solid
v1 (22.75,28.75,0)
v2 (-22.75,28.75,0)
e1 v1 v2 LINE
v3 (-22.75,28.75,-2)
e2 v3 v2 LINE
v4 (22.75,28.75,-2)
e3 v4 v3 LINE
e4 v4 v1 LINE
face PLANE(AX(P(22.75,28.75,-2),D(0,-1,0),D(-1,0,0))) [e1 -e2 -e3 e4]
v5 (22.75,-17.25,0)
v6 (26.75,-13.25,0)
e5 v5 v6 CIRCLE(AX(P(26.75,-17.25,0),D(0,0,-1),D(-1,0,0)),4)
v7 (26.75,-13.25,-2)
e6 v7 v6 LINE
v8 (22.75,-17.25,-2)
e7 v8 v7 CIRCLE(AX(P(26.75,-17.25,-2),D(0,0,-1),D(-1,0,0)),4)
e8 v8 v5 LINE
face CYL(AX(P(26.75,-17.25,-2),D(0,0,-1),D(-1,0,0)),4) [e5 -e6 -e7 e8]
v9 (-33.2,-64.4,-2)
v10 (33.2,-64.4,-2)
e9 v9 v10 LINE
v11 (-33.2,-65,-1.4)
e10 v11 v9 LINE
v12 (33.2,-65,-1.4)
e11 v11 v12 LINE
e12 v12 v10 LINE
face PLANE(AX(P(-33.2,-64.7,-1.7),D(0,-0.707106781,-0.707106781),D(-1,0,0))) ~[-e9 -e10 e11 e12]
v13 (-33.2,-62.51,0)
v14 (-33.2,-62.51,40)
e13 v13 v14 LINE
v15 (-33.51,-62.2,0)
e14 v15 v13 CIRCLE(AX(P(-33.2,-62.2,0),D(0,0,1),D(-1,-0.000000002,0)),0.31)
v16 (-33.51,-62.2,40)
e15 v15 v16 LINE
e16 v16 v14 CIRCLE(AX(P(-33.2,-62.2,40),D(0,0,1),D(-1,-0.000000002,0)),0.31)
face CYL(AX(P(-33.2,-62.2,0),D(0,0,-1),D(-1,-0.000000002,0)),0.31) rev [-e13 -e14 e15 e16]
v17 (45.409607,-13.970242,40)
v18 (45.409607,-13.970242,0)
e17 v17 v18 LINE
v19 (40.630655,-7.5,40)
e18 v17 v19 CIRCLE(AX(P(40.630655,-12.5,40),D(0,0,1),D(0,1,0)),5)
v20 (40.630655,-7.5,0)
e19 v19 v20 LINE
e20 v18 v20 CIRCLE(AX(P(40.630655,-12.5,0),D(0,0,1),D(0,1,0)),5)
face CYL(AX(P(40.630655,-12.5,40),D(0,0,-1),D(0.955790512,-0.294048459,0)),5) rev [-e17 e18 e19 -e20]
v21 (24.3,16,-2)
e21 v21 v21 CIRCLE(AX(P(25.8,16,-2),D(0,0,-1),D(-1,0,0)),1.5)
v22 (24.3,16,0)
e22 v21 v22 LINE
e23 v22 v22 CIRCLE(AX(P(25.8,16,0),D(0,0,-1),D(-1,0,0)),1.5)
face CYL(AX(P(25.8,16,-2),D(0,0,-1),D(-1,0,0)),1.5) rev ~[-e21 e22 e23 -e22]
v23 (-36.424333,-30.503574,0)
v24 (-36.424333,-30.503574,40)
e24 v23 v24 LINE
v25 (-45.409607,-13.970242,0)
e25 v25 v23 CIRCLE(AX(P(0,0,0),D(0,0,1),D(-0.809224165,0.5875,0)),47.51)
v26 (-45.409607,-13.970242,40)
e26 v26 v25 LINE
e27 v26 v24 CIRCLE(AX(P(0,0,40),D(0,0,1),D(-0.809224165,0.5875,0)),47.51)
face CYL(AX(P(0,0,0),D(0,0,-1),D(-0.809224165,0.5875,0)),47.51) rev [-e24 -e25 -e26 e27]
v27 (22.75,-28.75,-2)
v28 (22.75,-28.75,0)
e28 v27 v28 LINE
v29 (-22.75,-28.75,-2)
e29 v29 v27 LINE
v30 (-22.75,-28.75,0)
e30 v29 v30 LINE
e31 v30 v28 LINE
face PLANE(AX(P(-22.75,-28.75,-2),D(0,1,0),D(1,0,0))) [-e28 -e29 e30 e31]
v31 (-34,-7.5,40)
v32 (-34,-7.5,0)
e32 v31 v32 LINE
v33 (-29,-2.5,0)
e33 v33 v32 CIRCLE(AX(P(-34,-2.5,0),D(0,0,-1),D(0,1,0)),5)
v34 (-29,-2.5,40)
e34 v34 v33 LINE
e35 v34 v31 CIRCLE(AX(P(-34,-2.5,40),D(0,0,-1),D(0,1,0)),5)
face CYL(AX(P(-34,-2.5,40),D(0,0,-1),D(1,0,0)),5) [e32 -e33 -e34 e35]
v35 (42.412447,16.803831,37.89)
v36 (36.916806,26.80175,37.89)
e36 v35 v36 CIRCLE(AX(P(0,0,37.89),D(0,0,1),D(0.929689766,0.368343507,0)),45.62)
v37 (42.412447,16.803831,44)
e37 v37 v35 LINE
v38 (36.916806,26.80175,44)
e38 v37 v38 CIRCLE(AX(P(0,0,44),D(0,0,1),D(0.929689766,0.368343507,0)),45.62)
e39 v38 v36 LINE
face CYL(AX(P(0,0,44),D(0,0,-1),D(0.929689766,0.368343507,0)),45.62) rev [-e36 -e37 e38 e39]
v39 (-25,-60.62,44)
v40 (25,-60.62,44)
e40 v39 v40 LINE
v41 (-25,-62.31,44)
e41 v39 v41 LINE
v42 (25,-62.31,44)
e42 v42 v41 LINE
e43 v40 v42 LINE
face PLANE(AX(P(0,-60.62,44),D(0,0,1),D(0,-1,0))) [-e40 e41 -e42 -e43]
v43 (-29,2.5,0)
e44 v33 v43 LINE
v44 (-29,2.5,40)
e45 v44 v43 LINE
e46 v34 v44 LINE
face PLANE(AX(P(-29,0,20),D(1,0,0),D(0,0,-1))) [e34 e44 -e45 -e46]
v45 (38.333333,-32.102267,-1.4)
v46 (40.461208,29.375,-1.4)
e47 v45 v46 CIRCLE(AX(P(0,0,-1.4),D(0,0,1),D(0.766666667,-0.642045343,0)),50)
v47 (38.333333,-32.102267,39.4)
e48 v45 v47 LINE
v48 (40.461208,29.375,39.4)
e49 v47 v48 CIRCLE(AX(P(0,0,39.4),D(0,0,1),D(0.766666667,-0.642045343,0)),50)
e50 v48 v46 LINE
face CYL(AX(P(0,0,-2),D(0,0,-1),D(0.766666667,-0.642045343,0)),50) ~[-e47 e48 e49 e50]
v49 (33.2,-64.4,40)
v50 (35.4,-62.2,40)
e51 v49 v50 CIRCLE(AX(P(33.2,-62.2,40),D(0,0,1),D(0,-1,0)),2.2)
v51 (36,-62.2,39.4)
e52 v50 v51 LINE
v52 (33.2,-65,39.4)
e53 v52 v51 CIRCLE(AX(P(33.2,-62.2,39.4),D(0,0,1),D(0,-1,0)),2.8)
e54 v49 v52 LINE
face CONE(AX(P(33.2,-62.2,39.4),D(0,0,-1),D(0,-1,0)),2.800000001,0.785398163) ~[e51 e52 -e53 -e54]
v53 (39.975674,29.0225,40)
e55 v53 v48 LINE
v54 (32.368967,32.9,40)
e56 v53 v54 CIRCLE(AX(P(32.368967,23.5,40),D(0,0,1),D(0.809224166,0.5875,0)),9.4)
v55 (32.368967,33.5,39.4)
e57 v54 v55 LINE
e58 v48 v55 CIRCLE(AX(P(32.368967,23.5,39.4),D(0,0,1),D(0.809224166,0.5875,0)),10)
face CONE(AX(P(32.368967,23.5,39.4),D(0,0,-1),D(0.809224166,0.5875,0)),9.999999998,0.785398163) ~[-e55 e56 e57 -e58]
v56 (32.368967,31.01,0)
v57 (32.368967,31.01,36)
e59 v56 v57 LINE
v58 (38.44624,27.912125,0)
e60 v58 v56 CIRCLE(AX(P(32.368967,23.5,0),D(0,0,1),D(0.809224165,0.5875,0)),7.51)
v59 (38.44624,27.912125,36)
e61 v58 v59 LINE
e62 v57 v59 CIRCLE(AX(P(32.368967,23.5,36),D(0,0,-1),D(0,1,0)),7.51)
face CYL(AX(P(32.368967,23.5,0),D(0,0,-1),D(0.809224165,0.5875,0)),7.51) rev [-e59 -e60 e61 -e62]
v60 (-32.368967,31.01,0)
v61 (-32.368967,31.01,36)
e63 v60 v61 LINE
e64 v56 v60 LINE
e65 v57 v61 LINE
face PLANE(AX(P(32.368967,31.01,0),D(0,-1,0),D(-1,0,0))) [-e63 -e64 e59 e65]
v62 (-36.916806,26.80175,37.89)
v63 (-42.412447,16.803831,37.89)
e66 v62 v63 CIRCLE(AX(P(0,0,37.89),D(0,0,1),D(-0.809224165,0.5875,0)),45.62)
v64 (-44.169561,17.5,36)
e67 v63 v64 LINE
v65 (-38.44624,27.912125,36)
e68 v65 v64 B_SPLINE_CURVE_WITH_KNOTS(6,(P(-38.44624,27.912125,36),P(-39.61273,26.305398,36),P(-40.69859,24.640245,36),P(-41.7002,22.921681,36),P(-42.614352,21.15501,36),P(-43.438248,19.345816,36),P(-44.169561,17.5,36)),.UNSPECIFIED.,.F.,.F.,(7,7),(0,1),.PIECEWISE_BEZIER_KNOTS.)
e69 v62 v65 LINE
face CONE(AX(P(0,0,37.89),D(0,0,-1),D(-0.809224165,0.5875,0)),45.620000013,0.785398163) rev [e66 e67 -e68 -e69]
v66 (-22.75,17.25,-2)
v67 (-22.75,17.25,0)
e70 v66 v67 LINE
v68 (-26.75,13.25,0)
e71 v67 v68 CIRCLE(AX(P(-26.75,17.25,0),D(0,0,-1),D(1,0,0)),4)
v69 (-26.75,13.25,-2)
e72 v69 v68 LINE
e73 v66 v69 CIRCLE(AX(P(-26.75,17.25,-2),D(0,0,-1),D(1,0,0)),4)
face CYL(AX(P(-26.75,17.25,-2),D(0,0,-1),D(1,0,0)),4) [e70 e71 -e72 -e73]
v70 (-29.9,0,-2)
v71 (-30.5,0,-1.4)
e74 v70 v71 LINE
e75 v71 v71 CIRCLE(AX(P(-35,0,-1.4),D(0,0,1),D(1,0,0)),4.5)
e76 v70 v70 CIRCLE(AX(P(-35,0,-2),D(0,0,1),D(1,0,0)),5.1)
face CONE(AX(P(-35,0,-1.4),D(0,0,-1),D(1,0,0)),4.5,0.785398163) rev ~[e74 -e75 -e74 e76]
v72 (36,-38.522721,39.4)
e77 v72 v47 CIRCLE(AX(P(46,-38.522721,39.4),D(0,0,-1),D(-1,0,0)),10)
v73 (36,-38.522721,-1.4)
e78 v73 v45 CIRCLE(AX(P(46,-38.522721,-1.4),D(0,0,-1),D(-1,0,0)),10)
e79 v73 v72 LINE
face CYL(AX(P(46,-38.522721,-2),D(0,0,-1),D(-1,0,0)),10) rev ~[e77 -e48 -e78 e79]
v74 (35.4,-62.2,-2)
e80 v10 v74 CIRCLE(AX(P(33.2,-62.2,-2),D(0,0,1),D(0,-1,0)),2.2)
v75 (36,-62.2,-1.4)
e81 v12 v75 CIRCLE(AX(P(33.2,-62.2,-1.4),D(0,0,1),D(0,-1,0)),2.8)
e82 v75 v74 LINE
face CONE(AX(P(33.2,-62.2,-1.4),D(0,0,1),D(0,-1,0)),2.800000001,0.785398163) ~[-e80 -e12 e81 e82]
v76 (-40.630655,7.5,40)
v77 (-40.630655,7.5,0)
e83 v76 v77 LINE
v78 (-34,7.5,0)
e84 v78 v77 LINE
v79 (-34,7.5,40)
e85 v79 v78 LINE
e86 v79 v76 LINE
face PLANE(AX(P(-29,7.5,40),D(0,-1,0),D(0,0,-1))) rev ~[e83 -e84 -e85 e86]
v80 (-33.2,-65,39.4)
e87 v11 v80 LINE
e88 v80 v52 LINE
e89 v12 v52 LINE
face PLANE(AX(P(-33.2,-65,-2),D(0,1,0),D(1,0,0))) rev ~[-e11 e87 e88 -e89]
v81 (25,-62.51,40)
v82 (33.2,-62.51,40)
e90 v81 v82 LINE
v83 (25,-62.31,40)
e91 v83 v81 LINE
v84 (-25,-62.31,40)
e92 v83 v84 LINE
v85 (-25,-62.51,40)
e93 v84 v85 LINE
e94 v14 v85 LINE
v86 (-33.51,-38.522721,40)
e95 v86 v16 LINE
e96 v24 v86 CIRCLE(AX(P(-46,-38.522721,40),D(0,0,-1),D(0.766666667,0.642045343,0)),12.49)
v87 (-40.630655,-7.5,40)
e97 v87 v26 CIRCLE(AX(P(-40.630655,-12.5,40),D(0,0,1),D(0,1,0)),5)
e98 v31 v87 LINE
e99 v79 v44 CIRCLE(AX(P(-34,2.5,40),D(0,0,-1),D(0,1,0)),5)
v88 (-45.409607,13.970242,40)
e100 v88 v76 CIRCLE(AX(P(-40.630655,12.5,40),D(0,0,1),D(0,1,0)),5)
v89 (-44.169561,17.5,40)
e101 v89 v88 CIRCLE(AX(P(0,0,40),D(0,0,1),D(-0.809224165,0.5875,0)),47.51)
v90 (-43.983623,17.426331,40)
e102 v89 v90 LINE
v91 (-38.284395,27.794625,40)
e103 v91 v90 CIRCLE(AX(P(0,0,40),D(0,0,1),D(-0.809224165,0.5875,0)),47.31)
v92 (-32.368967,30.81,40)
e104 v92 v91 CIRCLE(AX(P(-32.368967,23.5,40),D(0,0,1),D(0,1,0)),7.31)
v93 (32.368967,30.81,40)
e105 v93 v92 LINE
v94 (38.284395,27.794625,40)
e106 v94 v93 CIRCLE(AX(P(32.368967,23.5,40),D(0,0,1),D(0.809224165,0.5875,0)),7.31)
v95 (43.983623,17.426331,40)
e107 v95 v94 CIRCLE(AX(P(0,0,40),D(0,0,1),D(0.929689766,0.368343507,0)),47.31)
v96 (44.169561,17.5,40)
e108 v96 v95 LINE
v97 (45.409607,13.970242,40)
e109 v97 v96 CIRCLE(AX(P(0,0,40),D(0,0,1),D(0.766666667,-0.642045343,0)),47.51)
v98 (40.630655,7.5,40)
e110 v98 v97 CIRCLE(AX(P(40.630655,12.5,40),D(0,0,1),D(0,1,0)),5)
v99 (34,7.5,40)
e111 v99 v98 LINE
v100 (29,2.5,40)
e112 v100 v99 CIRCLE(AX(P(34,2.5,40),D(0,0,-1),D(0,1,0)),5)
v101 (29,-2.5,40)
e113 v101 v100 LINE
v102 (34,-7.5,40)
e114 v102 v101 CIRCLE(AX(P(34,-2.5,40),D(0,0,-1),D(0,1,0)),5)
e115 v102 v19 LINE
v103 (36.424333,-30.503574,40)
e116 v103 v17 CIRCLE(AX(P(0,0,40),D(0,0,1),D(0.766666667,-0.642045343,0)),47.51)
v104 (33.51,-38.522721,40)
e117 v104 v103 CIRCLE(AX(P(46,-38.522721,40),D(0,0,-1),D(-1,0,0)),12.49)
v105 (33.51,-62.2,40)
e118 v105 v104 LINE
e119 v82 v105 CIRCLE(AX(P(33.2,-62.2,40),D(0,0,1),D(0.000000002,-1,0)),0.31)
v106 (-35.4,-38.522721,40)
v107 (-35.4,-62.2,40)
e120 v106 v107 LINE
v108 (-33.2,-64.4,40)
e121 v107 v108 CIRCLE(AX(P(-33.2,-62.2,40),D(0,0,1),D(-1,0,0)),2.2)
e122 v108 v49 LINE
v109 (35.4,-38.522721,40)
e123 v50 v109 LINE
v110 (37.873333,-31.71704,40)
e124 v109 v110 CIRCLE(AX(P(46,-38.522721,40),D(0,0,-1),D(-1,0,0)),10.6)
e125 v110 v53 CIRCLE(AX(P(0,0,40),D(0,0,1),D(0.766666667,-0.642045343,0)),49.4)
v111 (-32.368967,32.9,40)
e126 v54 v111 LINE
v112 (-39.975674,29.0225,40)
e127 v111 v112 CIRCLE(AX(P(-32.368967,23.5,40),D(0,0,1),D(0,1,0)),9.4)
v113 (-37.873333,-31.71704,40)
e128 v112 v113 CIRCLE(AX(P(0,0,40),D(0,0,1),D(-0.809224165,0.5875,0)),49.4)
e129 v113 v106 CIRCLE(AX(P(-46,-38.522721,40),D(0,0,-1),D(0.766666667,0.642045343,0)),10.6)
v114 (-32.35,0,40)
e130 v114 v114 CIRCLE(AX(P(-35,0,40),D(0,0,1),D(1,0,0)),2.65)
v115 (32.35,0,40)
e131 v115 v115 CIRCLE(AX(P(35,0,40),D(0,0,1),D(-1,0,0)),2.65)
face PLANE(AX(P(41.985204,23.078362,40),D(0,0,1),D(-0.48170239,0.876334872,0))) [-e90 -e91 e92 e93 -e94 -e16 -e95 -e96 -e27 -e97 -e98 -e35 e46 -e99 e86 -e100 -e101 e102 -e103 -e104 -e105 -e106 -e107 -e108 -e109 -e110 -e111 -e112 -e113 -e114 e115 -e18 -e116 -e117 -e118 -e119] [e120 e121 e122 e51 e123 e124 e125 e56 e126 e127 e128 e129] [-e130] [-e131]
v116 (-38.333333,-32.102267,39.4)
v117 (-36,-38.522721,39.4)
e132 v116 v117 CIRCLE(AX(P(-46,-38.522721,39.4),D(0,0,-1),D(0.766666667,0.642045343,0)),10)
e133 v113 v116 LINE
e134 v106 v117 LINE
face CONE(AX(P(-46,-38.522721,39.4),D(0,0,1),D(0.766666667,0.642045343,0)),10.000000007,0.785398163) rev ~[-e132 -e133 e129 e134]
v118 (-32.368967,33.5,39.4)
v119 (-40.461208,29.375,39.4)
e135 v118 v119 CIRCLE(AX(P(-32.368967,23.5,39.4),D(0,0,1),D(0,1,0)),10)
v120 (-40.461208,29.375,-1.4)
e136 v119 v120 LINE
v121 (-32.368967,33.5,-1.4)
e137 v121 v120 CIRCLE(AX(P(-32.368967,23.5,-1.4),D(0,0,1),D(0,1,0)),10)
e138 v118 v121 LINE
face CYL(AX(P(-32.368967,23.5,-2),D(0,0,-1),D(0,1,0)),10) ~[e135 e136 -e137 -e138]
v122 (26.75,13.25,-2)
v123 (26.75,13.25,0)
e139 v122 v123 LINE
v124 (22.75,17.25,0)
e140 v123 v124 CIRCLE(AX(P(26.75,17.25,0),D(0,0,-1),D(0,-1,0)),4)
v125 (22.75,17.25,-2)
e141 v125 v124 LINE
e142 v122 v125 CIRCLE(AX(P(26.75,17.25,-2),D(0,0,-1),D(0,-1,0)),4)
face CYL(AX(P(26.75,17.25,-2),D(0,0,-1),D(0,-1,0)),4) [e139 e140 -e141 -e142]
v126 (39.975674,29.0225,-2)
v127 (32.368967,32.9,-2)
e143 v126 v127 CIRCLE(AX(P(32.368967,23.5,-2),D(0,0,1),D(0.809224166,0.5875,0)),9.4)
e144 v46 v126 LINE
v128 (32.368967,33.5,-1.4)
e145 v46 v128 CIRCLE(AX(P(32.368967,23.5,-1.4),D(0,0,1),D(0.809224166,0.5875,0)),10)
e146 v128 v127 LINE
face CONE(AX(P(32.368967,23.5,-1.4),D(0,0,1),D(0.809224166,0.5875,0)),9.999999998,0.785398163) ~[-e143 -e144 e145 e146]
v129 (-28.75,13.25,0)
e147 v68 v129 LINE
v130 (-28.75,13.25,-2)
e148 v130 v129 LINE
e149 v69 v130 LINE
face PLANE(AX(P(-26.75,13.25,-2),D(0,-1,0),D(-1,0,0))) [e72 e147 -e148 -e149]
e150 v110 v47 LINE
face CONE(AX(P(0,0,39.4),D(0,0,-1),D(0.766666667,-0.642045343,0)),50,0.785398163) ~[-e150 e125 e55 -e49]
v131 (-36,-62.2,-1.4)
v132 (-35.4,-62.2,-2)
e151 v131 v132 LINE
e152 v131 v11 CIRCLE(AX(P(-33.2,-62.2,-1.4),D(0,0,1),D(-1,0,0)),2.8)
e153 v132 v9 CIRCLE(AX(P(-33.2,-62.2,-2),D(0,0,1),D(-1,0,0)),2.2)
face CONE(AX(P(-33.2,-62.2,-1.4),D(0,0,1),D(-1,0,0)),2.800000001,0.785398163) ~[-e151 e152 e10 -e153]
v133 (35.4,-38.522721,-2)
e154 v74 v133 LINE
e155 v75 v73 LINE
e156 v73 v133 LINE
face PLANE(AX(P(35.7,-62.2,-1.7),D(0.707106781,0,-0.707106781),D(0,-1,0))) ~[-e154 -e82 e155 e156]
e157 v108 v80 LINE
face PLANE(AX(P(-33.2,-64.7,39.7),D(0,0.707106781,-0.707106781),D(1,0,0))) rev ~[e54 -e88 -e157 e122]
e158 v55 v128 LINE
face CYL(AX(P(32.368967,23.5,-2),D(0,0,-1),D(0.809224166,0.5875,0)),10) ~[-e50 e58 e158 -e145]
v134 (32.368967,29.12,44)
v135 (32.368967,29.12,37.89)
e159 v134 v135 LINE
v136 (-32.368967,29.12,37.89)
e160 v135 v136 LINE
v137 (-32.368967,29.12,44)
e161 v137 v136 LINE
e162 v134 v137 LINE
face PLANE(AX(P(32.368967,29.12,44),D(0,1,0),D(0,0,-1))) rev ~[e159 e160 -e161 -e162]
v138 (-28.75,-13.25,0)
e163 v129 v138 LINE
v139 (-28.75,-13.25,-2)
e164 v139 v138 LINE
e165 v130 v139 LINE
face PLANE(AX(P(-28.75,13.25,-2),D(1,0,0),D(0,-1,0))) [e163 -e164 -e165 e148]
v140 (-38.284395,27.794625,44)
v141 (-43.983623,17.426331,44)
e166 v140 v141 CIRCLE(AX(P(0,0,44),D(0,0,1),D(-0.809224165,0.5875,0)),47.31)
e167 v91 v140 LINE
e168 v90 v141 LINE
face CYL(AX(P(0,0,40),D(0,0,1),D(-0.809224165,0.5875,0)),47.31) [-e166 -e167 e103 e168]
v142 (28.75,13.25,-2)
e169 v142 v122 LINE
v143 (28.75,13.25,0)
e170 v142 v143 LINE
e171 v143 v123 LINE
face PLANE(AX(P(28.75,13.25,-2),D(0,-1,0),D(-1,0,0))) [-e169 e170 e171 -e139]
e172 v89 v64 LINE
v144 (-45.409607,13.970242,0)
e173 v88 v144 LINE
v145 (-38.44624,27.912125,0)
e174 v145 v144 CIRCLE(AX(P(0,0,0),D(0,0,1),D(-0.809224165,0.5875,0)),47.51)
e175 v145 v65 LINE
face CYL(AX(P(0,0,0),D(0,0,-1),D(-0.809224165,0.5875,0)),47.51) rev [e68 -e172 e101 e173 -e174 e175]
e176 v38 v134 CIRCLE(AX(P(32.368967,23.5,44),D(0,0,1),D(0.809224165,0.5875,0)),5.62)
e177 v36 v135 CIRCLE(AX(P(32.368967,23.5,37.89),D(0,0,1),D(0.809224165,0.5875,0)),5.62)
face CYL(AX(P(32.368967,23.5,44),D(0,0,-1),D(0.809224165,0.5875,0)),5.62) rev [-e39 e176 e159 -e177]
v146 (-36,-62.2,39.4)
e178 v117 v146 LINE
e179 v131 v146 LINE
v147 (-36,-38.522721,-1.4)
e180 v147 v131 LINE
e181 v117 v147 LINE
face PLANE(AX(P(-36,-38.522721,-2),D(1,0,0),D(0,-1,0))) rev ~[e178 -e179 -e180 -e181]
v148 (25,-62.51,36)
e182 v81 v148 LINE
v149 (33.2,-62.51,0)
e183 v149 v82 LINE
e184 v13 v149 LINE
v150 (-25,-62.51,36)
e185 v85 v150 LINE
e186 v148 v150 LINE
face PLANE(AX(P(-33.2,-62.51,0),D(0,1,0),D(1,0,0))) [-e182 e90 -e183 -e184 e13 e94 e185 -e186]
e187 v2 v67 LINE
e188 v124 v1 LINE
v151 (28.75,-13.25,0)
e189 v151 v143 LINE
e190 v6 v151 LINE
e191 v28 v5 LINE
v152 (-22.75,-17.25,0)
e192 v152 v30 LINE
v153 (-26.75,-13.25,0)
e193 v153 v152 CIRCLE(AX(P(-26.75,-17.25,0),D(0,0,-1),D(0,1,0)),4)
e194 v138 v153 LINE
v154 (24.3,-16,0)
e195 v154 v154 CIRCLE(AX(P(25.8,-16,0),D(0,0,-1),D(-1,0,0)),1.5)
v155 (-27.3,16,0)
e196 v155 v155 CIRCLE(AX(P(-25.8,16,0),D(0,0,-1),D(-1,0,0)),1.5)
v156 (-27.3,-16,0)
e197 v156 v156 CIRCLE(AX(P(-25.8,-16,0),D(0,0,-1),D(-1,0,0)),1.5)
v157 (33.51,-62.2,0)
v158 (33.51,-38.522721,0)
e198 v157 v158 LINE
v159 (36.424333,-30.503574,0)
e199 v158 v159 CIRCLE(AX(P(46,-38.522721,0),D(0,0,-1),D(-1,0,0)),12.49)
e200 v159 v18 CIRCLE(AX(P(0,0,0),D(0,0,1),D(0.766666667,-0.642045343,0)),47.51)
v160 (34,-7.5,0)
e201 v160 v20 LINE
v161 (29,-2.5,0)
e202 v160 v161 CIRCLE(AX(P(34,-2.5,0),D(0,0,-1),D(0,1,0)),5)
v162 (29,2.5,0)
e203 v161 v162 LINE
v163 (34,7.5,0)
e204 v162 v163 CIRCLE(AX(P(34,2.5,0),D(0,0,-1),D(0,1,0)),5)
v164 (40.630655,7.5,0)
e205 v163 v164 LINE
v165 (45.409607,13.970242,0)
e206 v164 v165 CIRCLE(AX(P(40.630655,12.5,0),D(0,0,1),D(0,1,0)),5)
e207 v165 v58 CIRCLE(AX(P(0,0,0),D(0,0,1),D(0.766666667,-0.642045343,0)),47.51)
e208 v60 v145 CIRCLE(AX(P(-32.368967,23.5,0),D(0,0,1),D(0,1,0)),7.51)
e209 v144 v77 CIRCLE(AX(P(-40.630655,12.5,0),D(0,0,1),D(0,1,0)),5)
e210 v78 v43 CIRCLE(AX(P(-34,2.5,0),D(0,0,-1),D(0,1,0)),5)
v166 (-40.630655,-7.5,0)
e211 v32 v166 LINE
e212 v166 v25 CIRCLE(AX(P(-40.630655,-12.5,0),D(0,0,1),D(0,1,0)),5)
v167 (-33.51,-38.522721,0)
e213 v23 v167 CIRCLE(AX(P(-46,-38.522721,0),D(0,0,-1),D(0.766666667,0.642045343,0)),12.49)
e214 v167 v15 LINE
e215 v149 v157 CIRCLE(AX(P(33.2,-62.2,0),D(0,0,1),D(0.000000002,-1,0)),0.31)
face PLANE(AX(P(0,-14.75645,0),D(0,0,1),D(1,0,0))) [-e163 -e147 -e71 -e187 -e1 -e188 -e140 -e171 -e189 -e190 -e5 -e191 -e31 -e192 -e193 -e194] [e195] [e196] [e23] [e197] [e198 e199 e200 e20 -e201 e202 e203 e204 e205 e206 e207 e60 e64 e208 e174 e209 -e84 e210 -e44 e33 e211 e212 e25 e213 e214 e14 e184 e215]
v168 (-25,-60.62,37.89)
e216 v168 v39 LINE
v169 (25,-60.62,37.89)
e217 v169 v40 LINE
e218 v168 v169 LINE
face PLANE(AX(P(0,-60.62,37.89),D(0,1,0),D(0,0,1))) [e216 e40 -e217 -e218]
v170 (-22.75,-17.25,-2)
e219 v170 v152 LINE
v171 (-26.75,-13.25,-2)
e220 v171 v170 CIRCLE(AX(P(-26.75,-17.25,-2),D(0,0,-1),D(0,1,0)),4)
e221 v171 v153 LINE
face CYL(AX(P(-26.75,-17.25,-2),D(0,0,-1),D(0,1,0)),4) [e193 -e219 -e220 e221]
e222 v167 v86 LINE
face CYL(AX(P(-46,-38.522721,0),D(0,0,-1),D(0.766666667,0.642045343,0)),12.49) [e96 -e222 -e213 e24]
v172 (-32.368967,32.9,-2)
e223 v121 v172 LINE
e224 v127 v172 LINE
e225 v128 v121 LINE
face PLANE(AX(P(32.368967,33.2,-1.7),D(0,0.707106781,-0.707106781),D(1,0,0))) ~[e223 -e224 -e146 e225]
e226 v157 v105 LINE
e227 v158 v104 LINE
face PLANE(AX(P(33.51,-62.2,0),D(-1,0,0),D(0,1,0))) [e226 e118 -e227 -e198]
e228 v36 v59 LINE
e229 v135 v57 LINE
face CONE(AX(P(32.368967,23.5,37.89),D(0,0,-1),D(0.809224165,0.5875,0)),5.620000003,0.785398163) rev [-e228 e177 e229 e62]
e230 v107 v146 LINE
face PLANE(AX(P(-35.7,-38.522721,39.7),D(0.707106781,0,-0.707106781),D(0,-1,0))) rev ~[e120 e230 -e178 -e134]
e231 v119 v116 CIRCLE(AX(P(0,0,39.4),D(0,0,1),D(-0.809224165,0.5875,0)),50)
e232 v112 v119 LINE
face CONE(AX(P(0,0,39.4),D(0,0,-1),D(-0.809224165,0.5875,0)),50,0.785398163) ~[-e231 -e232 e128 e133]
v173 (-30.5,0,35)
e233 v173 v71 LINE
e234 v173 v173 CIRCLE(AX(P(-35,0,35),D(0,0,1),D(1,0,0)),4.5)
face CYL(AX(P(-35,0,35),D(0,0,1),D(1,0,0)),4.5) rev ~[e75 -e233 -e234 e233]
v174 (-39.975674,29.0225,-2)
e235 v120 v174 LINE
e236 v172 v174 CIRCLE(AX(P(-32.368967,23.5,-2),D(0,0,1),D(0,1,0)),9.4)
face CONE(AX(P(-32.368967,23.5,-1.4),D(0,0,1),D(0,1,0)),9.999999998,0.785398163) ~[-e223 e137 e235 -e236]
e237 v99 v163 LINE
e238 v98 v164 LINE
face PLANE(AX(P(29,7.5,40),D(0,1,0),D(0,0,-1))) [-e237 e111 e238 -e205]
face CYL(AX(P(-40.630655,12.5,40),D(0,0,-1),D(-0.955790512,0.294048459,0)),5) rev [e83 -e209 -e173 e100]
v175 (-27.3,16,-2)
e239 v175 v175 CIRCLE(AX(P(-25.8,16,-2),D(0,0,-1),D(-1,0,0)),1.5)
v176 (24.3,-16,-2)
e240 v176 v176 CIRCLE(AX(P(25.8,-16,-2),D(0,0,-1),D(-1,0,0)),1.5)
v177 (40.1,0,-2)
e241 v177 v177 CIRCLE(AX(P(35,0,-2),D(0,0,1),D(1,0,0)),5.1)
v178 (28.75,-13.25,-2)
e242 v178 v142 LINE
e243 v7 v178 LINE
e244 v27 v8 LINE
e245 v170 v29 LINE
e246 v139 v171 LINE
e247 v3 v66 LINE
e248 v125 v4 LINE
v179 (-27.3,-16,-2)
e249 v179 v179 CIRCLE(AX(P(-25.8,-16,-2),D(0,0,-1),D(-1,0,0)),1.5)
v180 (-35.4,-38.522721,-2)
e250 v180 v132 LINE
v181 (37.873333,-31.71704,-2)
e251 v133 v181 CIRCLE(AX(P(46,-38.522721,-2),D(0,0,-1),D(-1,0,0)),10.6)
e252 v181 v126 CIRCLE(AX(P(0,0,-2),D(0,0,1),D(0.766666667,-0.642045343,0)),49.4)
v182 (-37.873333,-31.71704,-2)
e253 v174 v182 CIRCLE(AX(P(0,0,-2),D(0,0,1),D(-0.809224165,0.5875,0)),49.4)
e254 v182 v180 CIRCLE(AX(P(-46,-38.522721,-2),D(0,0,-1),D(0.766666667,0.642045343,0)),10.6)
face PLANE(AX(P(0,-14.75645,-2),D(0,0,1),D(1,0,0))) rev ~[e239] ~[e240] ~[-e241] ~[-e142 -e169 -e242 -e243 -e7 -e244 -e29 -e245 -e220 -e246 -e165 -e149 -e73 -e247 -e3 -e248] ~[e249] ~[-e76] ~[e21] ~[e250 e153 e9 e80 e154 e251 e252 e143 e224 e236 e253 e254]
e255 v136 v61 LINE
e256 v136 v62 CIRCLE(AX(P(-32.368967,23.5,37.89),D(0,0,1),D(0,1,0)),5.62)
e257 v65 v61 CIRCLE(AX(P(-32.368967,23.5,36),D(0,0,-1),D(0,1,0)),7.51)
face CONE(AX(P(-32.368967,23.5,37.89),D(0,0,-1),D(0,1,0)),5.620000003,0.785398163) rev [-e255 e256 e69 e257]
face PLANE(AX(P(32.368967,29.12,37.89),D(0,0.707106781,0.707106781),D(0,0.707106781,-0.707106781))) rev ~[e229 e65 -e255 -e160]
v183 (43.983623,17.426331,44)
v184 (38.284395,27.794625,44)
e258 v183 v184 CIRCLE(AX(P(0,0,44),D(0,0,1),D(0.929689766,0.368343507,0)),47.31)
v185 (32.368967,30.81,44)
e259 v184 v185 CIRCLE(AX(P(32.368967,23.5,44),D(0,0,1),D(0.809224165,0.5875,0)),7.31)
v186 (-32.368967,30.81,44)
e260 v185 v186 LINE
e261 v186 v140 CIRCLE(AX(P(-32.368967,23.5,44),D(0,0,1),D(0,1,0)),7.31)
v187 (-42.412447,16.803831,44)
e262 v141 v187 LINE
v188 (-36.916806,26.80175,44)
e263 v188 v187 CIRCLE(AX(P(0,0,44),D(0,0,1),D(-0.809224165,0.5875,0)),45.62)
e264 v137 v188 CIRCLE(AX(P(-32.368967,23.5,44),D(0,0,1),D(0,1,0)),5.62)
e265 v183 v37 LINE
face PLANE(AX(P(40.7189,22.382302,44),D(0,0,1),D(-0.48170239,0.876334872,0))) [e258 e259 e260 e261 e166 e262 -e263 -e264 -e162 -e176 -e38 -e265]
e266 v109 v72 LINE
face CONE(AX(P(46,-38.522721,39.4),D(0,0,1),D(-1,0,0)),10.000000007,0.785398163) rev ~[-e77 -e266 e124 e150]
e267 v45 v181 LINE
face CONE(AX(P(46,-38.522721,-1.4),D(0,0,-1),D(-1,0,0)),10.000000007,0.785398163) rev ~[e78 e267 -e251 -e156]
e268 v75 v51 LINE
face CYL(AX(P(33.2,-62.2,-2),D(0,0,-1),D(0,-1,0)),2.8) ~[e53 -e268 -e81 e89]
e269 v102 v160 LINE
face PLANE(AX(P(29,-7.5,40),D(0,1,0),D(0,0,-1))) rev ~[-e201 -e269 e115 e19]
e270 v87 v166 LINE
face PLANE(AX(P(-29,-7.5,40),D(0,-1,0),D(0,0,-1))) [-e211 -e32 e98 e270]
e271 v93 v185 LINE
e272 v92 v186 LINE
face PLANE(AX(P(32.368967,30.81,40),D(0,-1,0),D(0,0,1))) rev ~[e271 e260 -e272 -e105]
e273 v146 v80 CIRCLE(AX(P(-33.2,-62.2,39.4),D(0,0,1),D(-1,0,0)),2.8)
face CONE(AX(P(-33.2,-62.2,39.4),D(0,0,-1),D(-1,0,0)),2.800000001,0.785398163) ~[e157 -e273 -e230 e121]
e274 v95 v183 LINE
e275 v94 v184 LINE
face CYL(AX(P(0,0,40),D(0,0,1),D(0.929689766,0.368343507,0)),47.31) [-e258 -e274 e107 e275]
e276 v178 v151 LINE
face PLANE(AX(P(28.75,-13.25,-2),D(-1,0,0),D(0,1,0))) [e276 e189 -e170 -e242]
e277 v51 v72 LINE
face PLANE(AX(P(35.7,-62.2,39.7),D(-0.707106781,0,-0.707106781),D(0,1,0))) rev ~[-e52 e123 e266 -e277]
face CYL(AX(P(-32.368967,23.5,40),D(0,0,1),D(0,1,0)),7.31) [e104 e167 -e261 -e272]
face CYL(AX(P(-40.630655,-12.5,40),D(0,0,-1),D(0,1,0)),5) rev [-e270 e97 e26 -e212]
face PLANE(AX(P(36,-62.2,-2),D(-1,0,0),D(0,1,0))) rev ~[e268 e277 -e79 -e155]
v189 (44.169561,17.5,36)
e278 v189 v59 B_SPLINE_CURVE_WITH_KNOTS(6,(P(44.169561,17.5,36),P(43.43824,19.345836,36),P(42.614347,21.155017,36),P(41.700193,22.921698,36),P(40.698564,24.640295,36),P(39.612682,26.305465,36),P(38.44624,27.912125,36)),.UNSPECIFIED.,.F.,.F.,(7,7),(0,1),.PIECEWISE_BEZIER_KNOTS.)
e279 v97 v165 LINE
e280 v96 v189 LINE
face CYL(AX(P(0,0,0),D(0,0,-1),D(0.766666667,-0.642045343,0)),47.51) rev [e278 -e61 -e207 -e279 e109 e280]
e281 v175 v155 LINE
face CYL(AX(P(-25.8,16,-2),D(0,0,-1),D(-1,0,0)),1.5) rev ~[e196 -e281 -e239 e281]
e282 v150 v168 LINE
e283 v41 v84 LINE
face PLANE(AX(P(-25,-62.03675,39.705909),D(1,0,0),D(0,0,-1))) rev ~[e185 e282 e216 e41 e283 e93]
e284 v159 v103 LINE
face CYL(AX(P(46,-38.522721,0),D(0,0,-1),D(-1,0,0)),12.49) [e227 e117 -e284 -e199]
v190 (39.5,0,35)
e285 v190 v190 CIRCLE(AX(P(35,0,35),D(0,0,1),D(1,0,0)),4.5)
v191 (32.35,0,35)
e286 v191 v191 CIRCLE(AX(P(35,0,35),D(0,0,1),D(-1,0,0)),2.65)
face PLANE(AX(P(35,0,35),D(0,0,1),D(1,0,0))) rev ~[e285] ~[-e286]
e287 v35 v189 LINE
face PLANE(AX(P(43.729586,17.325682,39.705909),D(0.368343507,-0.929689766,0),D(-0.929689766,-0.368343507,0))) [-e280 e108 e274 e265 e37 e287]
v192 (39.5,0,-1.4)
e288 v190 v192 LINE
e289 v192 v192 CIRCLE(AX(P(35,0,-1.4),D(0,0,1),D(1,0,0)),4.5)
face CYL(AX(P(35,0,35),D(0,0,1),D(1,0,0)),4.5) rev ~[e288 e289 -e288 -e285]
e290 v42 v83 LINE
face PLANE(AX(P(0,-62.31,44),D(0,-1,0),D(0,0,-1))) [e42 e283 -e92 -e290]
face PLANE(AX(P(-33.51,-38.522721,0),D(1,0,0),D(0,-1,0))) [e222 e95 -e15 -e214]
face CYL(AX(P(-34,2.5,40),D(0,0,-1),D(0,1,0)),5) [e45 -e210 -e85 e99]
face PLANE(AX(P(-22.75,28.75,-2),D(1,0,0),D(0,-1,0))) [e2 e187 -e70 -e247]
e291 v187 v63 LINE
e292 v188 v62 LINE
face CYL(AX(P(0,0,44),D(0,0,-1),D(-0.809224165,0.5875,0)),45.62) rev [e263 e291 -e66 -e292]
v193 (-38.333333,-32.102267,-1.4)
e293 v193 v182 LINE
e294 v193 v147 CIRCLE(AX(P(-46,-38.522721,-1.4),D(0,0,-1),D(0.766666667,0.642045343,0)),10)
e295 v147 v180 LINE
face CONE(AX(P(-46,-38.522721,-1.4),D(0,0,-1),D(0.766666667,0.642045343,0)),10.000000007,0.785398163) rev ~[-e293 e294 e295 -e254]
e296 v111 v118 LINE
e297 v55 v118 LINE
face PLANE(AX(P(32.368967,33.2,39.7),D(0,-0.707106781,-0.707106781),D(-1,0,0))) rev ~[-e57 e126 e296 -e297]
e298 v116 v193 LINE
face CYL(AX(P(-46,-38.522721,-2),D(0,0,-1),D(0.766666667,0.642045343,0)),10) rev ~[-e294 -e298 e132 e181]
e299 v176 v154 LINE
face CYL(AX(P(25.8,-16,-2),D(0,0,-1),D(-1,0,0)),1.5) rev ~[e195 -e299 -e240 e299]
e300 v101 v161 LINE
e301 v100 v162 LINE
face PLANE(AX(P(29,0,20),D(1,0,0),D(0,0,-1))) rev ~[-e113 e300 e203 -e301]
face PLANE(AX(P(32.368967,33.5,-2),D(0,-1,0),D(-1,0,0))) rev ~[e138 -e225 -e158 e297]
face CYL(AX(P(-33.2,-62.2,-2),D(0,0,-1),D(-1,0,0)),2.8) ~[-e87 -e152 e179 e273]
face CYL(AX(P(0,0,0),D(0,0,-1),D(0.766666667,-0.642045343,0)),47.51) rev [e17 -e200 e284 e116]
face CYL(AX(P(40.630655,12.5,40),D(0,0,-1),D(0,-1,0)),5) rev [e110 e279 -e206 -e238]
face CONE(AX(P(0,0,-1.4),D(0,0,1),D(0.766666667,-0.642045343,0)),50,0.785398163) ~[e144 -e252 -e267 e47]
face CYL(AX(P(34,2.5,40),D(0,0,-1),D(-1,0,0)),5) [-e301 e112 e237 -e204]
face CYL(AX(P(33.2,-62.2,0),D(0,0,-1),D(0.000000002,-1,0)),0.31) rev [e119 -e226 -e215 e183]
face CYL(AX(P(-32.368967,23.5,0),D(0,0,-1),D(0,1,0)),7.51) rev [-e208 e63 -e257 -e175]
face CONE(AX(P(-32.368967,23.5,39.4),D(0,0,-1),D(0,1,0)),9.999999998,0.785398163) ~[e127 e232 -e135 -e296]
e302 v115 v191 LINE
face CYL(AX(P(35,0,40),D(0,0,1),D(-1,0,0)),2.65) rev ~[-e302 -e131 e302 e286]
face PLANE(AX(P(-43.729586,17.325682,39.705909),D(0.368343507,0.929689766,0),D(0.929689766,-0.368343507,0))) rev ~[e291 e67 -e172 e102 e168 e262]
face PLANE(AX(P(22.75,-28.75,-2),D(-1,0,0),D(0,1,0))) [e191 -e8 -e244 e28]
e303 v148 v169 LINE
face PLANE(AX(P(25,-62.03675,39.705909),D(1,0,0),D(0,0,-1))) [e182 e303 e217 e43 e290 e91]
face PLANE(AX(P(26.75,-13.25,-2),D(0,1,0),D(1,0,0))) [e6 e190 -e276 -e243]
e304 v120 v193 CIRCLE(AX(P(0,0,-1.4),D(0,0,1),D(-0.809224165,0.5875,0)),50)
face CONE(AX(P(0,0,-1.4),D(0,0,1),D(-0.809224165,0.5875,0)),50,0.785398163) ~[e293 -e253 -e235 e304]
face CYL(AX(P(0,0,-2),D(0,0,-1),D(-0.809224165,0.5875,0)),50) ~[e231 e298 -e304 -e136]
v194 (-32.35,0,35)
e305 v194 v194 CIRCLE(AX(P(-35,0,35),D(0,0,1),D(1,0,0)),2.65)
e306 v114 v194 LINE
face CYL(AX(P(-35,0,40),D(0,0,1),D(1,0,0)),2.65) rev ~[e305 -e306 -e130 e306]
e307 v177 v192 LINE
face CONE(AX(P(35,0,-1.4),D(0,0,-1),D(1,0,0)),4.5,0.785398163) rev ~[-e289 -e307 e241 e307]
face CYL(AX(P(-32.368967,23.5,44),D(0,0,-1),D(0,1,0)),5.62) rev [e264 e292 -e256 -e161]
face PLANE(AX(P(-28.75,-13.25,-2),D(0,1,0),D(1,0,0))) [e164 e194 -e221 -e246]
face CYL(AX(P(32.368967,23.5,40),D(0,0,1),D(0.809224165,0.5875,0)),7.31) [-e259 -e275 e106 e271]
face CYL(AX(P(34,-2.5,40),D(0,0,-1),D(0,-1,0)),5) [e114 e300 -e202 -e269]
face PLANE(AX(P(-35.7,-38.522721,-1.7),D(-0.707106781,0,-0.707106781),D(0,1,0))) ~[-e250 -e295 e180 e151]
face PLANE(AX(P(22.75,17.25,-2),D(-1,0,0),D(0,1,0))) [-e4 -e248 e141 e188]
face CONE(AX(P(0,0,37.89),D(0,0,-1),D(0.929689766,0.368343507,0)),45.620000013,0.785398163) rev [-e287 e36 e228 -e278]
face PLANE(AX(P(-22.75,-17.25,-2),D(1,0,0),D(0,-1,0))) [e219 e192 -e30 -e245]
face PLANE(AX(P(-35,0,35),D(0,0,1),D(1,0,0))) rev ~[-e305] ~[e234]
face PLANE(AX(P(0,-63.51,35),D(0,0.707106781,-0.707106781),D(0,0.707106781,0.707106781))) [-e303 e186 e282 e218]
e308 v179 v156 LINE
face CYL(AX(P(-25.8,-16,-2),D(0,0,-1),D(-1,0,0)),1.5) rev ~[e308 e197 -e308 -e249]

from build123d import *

# Parameters (mm, degrees)
LINEAR_AUSTRAGEN_D_NN1_DEPTH         = 40
AUFSATZ_LINEAR_START                 = 2
AUFSATZ_LINEAR_AUSTRAGEN2_DEPTH      = 2
SCHNITT_LINEAR_AUSTRAGEN1_REACH      = 94.136
SKIZZE4_R                            = 1.5
AUFSATZ_LINEAR_AUSTRAGEN3_REACH      = 122.241
AUFSATZ_LINEAR_AUSTRAGEN3_END_RADIUS = 47.51
AUFSATZ_LINEAR_START_2               = 29
SKIZZE6_W                            = 40
SKIZZE6_H                            = 15
AUFSATZ_LINEAR_AUSTRAGEN4_REACH      = 122.241
AUFSATZ_LINEAR_AUSTRAGEN4_END_RADIUS = 47.51
AUFSATZ_LINEAR_START_3               = -29
SKIZZE6_2_W                          = 40
SKIZZE6_2_H                          = 15
SCHNITT_LINEAR_AUSTRAGEN2_REACH      = 94.136
SKIZZE7_R                            = 2.65
SCHNITT_LINEAR_AUSTRAGEN3_REACH      = 99.136
SCHNITT_LINEAR_START                 = -5
SKIZZE8_R                            = 4.5
AUFSATZ_LINEAR_AUSTRAGEN6_DEPTH      = 25
VERRUNDUNG1_R                        = 5
FASE2_SIZE                           = 0.6


with BuildPart() as part:
    # Skizze1 → Linear-Austragen-Dünn1 (new body)
    with BuildSketch(Plane.XY):
        with BuildLine():
            Line((-33.2, -65), (0, -65))
            Line((0, -65), (33.2, -65))
            ThreePointArc((33.2, -65), (35.179898987, -64.179898987), (36, -62.2))
            Line((36, -62.2), (36, -38.522720569))
            ThreePointArc((36, -38.522720569), (36.601418547, -35.107070313), (38.333333333, -32.10226714))
            ThreePointArc((38.333333333, -32.10226714), (49.970076451, -1.729583607), (40.461208274, 29.375))
            ThreePointArc((40.461208274, 29.375), (36.91044215, 32.409264841), (32.368966619, 33.5))
            Line((32.368966619, 33.5), (0, 33.5))
            Line((0, 33.5), (-32.368966619, 33.5))
            ThreePointArc((-32.368966619, 33.5), (-36.91044215, 32.409264841), (-40.461208274, 29.375))
            ThreePointArc((-40.461208274, 29.375), (-49.970076451, -1.729583607), (-38.333333333, -32.10226714))
            ThreePointArc((-38.333333333, -32.10226714), (-36.601418547, -35.107070313), (-36, -38.522720569))
            Line((-36, -38.522720569), (-36, -62.2))
            ThreePointArc((-36, -62.2), (-35.179898987, -64.179898987), (-33.2, -65))
        make_face()
        with BuildLine():
            Line((-33.2, -62.51), (0, -62.51))
            Line((0, -62.51), (33.2, -62.51))
            ThreePointArc((33.2, -62.51), (33.419203102, -62.419203102), (33.51, -62.2))
            Line((33.51, -62.2), (33.51, -38.522720569))
            ThreePointArc((33.51, -38.522720569), (34.261171765, -34.2565734), (36.424333333, -30.503574237))
            ThreePointArc((36.424333333, -30.503574237), (47.481566644, -1.643450344), (38.446240102, 27.912125))
            ThreePointArc((38.446240102, 27.912125), (35.779614743, 30.190857895), (32.368966619, 31.01))
            Line((32.368966619, 31.01), (0, 31.01))
            Line((0, 31.01), (-32.368966619, 31.01))
            ThreePointArc((-32.368966619, 31.01), (-35.779614743, 30.190857895), (-38.446240102, 27.912125))
            ThreePointArc((-38.446240102, 27.912125), (-47.481566644, -1.643450344), (-36.424333333, -30.503574237))
            ThreePointArc((-36.424333333, -30.503574237), (-34.261171765, -34.2565734), (-33.51, -38.522720569))
            Line((-33.51, -38.522720569), (-33.51, -62.2))
            ThreePointArc((-33.51, -62.2), (-33.419203102, -62.419203102), (-33.2, -62.51))
        make_face(mode=Mode.SUBTRACT)
    extrude(amount=LINEAR_AUSTRAGEN_D_NN1_DEPTH)

    # Skizze3 → Aufsatz-Linear austragen2 (add)
    with BuildSketch(Plane(origin=(0, 0, 0), x_dir=(-1, 0, 0), z_dir=(0, 0, -1)).offset(AUFSATZ_LINEAR_START)):
        with BuildLine():
            Line((36, -38.522720569), (36, -62.2))
            ThreePointArc((36, -62.2), (35.179898987, -64.179898987), (33.2, -65))
            Line((33.2, -65), (-33.2, -65))
            ThreePointArc((-33.2, -65), (-35.179898987, -64.179898987), (-36, -62.2))
            Line((-36, -62.2), (-36, -38.522720569))
            ThreePointArc((-36, -38.522720569), (-36.601418547, -35.107070313), (-38.333333333, -32.10226714))
            ThreePointArc((-38.333333333, -32.10226714), (-49.970076451, -1.729583607), (-40.461208274, 29.375))
            ThreePointArc((-40.461208274, 29.375), (-36.91044215, 32.409264841), (-32.368966619, 33.5))
            Line((-32.368966619, 33.5), (32.368966619, 33.5))
            ThreePointArc((32.368966619, 33.5), (36.91044215, 32.409264841), (40.461208274, 29.375))
            ThreePointArc((40.461208274, 29.375), (49.970076451, -1.729583607), (38.333333333, -32.10226714))
            ThreePointArc((38.333333333, -32.10226714), (36.601418547, -35.107070313), (36, -38.522720569))
        make_face()
        with BuildLine():
            Line((-28.75, 13.25), (-26.75, 13.25))
            ThreePointArc((-26.75, 13.25), (-23.921572875, 14.421572875), (-22.75, 17.25))
            Line((-22.75, 17.25), (-22.75, 28.75))
            Line((-22.75, 28.75), (22.75, 28.75))
            Line((22.75, 28.75), (22.75, 17.25))
            ThreePointArc((22.75, 17.25), (23.921572875, 14.421572875), (26.75, 13.25))
            Line((26.75, 13.25), (28.75, 13.25))
            Line((28.75, 13.25), (28.75, -13.25))
            Line((28.75, -13.25), (26.75, -13.25))
            ThreePointArc((26.75, -13.25), (23.921572875, -14.421572875), (22.75, -17.25))
            Line((22.75, -17.25), (22.75, -28.75))
            Line((22.75, -28.75), (-22.75, -28.75))
            Line((-22.75, -28.75), (-22.75, -17.25))
            ThreePointArc((-22.75, -17.25), (-23.921572875, -14.421572875), (-26.75, -13.25))
            Line((-26.75, -13.25), (-28.75, -13.25))
            Line((-28.75, -13.25), (-28.75, 13.25))
        make_face(mode=Mode.SUBTRACT)
    extrude(amount=-AUFSATZ_LINEAR_AUSTRAGEN2_DEPTH)

    # Skizze4 → Schnitt-Linear austragen1 (cut, up to next)
    with BuildSketch(Plane(origin=(0, 0, -2), x_dir=(-1, 0, 0), z_dir=(0, 0, -1)), mode=Mode.PRIVATE) as schnitt_linear_austragen1_sk1:
        with Locations((-25.8, 16)):
            Circle(SKIZZE4_R)
    schnitt_linear_austragen1_tool1 = extrude(schnitt_linear_austragen1_sk1.sketch, amount=-SCHNITT_LINEAR_AUSTRAGEN1_REACH, mode=Mode.PRIVATE) & part.part
    # Skizze4 → Schnitt-Linear austragen1 (cut, up to next)
    with BuildSketch(Plane(origin=(0, 0, -2), x_dir=(-1, 0, 0), z_dir=(0, 0, -1)), mode=Mode.PRIVATE) as schnitt_linear_austragen1_sk2:
        with Locations((25.8, 16)):
            Circle(SKIZZE4_R)
    schnitt_linear_austragen1_tool2 = extrude(schnitt_linear_austragen1_sk2.sketch, amount=-SCHNITT_LINEAR_AUSTRAGEN1_REACH, mode=Mode.PRIVATE) & part.part
    # Skizze4 → Schnitt-Linear austragen1 (cut, up to next)
    with BuildSketch(Plane(origin=(0, 0, -2), x_dir=(-1, 0, 0), z_dir=(0, 0, -1)), mode=Mode.PRIVATE) as schnitt_linear_austragen1_sk3:
        with Locations((25.8, -16)):
            Circle(SKIZZE4_R)
    schnitt_linear_austragen1_tool3 = extrude(schnitt_linear_austragen1_sk3.sketch, amount=-SCHNITT_LINEAR_AUSTRAGEN1_REACH, mode=Mode.PRIVATE) & part.part
    # Skizze4 → Schnitt-Linear austragen1 (cut, up to next)
    with BuildSketch(Plane(origin=(0, 0, -2), x_dir=(-1, 0, 0), z_dir=(0, 0, -1)), mode=Mode.PRIVATE) as schnitt_linear_austragen1_sk4:
        with Locations((-25.8, -16)):
            Circle(SKIZZE4_R)
    schnitt_linear_austragen1_tool4 = extrude(schnitt_linear_austragen1_sk4.sketch, amount=-SCHNITT_LINEAR_AUSTRAGEN1_REACH, mode=Mode.PRIVATE) & part.part
    add(schnitt_linear_austragen1_tool1.solids().sort_by_distance((25.8, 16, -2))[0], mode=Mode.SUBTRACT)
    add(schnitt_linear_austragen1_tool2.solids().sort_by_distance((-25.8, 16, -2))[0], mode=Mode.SUBTRACT)
    add(schnitt_linear_austragen1_tool3.solids().sort_by_distance((-25.8, -16, -2))[0], mode=Mode.SUBTRACT)
    add(schnitt_linear_austragen1_tool4.solids().sort_by_distance((25.8, -16, -2))[0], mode=Mode.SUBTRACT)

    # Aufsatz-Linear austragen3: up to this cylinder (the profile starts inside it)
    aufsatz_linear_austragen3_end = Plane(origin=(0, 0, 20), z_dir=(0, 0, -1)) * Cylinder(AUFSATZ_LINEAR_AUSTRAGEN3_END_RADIUS, 340.502, mode=Mode.PRIVATE)
    # Skizze6 → Aufsatz-Linear austragen3 (add, up to the surface)
    with BuildSketch(Plane(origin=(0, 0, 0), x_dir=(0, 0, -1), z_dir=(1, 0, 0)).offset(AUFSATZ_LINEAR_START_2), mode=Mode.PRIVATE) as aufsatz_linear_austragen3_sk1:
        with Locations((-20, 0)):
            Rectangle(SKIZZE6_W, SKIZZE6_H)
    aufsatz_linear_austragen3_tool1 = extrude(aufsatz_linear_austragen3_sk1.sketch, amount=AUFSATZ_LINEAR_AUSTRAGEN3_REACH, mode=Mode.PRIVATE) & aufsatz_linear_austragen3_end
    add(aufsatz_linear_austragen3_tool1.solids().sort_by_distance((29, 0, 20))[0])

    # Aufsatz-Linear austragen4: up to this cylinder (the profile starts inside it)
    aufsatz_linear_austragen4_end = Plane(origin=(0, 0, 20), z_dir=(0, 0, -1)) * Cylinder(AUFSATZ_LINEAR_AUSTRAGEN4_END_RADIUS, 340.502, mode=Mode.PRIVATE)
    # Skizze6<2> → Aufsatz-Linear austragen4 (add, up to the surface)
    with BuildSketch(Plane(origin=(0, 0, 0), x_dir=(0, 0, -1), z_dir=(1, 0, 0)).offset(AUFSATZ_LINEAR_START_3), mode=Mode.PRIVATE) as aufsatz_linear_austragen4_sk1:
        with Locations((-20, 0)):
            Rectangle(SKIZZE6_2_W, SKIZZE6_2_H)
    aufsatz_linear_austragen4_tool1 = extrude(aufsatz_linear_austragen4_sk1.sketch, amount=-AUFSATZ_LINEAR_AUSTRAGEN4_REACH, mode=Mode.PRIVATE) & aufsatz_linear_austragen4_end
    add(aufsatz_linear_austragen4_tool1.solids().sort_by_distance((-29, 0, 20))[0])

    # Skizze7 → Schnitt-Linear austragen2 (cut, up to next)
    with BuildSketch(Plane.XY.offset(40), mode=Mode.PRIVATE) as schnitt_linear_austragen2_sk1:
        with Locations((-35, 0)):
            Circle(SKIZZE7_R)
    schnitt_linear_austragen2_tool1 = extrude(schnitt_linear_austragen2_sk1.sketch, amount=-SCHNITT_LINEAR_AUSTRAGEN2_REACH, mode=Mode.PRIVATE) & part.part
    # Skizze7 → Schnitt-Linear austragen2 (cut, up to next)
    with BuildSketch(Plane.XY.offset(40), mode=Mode.PRIVATE) as schnitt_linear_austragen2_sk2:
        with Locations(Location((35, 0, 0), (0, 0, 180))):
            Circle(SKIZZE7_R)
    schnitt_linear_austragen2_tool2 = extrude(schnitt_linear_austragen2_sk2.sketch, amount=-SCHNITT_LINEAR_AUSTRAGEN2_REACH, mode=Mode.PRIVATE) & part.part
    add(schnitt_linear_austragen2_tool1.solids().sort_by_distance((-35, 0, 40))[0], mode=Mode.SUBTRACT)
    add(schnitt_linear_austragen2_tool2.solids().sort_by_distance((35, 0, 40))[0], mode=Mode.SUBTRACT)

    # Skizze8 → Schnitt-Linear austragen3 (cut, up to next)
    with BuildSketch(Plane.XY.offset(40).offset(SCHNITT_LINEAR_START), mode=Mode.PRIVATE) as schnitt_linear_austragen3_sk1:
        with Locations((-35, 0)):
            Circle(SKIZZE8_R)
    schnitt_linear_austragen3_tool1 = extrude(schnitt_linear_austragen3_sk1.sketch, amount=-SCHNITT_LINEAR_AUSTRAGEN3_REACH, mode=Mode.PRIVATE) & part.part
    # Skizze8 → Schnitt-Linear austragen3 (cut, up to next)
    with BuildSketch(Plane.XY.offset(40).offset(SCHNITT_LINEAR_START), mode=Mode.PRIVATE) as schnitt_linear_austragen3_sk2:
        with Locations((35, 0)):
            Circle(SKIZZE8_R)
    schnitt_linear_austragen3_tool2 = extrude(schnitt_linear_austragen3_sk2.sketch, amount=-SCHNITT_LINEAR_AUSTRAGEN3_REACH, mode=Mode.PRIVATE) & part.part
    add(schnitt_linear_austragen3_tool1.solids().sort_by_distance((-35, 0, 35))[0], mode=Mode.SUBTRACT)
    add(schnitt_linear_austragen3_tool2.solids().sort_by_distance((35, 0, 35))[0], mode=Mode.SUBTRACT)

    # Austragung12: sweep along a path in Skizze10
    with BuildLine(Plane.XY.offset(40)) as austragung12_path:
        ThreePointArc((44.169560786, 17.5), (41.634669758, 22.885680548), (38.446240102, 27.912125))
        ThreePointArc((38.446240102, 27.912125), (35.779614743, 30.190857895), (32.368966619, 31.01))
        Line((32.368966619, 31.01), (-32.368966619, 31.01))
        ThreePointArc((-32.368966619, 31.01), (-35.779614743, 30.190857895), (-38.446240102, 27.912125))
        ThreePointArc((-38.446240102, 27.912125), (-41.634669758, 22.885680548), (-44.169560786, 17.5))
    # Skizze9 → Austragung12 (sweep)
    with BuildSketch(Plane(origin=(0, 0, 0), x_dir=(0, 0, -1), z_dir=(1, 0, 0))):
        Polygon((-40, 31.01), (-40, 30.81), (-44, 30.81), (-44, 29.12), (-37.89, 29.12), (-35, 32.01), (-40, 32.01), align=None)
    sweep(path=austragung12_path.line)

    # Skizze9<4> → Aufsatz-Linear austragen6 (add, symmetric)
    with BuildSketch(Plane(origin=(0, 0, 0), x_dir=(0, 0, -1), z_dir=(1, 0, 0))):
        Polygon((-40, -63.51), (-35, -63.51), (-37.89, -60.62), (-44, -60.62), (-44, -62.31), (-40, -62.31), (-40, -62.51), align=None)
    extrude(amount=AUFSATZ_LINEAR_AUSTRAGEN6_DEPTH, both=True)

    # Verrundung1
    verrundung1_edges = [part.edges().sort_by_distance(p)[0] for p in [
        (46.914284605, 7.5, 20),
        (29, 7.5, 20),
        (46.914284605, -7.5, 20),
        (29, -7.5, 20),
        (-46.914284605, 7.5, 20),
        (-46.914284605, -7.5, 20),
        (-29, 7.5, 20),
        (-29, -7.5, 20),
    ]]
    fillet(verrundung1_edges, radius=VERRUNDUNG1_R)

    # Fase2
    fase2_edges = [part.edges().sort_by_distance(p)[0] for p in [
        (-36.91044215, 32.409264841, 40),
        (-49.970076451, -1.729583607, 40),
        (-39.5, 0, -2),
        (-36.601418547, -35.107070313, 40),
        (30.5, 0, -2),
        (-36, -50.361360284, 40),
        (-35.179898987, -64.179898987, 40),
        (0, -65, 40),
        (35.179898987, -64.179898987, 40),
        (36, -50.361360284, 40),
        (36.601418547, -35.107070313, 40),
        (0, 33.5, 40),
        (49.970076451, -1.729583607, 40),
        (36.91044215, 32.409264841, 40),
        (-49.970076451, -1.729583607, -2),
        (-36.91044215, 32.409264841, -2),
        (0, 33.5, -2),
        (36.91044215, 32.409264841, -2),
        (49.970076451, -1.729583607, -2),
        (36.601418547, -35.107070313, -2),
        (36, -50.361360284, -2),
        (35.179898987, -64.179898987, -2),
        (0, -65, -2),
        (-35.179898987, -64.179898987, -2),
        (-36, -50.361360284, -2),
        (-36.601418547, -35.107070313, -2),
    ]]
    chamfer(fase2_edges, length=FASE2_SIZE)


solid = part.part
